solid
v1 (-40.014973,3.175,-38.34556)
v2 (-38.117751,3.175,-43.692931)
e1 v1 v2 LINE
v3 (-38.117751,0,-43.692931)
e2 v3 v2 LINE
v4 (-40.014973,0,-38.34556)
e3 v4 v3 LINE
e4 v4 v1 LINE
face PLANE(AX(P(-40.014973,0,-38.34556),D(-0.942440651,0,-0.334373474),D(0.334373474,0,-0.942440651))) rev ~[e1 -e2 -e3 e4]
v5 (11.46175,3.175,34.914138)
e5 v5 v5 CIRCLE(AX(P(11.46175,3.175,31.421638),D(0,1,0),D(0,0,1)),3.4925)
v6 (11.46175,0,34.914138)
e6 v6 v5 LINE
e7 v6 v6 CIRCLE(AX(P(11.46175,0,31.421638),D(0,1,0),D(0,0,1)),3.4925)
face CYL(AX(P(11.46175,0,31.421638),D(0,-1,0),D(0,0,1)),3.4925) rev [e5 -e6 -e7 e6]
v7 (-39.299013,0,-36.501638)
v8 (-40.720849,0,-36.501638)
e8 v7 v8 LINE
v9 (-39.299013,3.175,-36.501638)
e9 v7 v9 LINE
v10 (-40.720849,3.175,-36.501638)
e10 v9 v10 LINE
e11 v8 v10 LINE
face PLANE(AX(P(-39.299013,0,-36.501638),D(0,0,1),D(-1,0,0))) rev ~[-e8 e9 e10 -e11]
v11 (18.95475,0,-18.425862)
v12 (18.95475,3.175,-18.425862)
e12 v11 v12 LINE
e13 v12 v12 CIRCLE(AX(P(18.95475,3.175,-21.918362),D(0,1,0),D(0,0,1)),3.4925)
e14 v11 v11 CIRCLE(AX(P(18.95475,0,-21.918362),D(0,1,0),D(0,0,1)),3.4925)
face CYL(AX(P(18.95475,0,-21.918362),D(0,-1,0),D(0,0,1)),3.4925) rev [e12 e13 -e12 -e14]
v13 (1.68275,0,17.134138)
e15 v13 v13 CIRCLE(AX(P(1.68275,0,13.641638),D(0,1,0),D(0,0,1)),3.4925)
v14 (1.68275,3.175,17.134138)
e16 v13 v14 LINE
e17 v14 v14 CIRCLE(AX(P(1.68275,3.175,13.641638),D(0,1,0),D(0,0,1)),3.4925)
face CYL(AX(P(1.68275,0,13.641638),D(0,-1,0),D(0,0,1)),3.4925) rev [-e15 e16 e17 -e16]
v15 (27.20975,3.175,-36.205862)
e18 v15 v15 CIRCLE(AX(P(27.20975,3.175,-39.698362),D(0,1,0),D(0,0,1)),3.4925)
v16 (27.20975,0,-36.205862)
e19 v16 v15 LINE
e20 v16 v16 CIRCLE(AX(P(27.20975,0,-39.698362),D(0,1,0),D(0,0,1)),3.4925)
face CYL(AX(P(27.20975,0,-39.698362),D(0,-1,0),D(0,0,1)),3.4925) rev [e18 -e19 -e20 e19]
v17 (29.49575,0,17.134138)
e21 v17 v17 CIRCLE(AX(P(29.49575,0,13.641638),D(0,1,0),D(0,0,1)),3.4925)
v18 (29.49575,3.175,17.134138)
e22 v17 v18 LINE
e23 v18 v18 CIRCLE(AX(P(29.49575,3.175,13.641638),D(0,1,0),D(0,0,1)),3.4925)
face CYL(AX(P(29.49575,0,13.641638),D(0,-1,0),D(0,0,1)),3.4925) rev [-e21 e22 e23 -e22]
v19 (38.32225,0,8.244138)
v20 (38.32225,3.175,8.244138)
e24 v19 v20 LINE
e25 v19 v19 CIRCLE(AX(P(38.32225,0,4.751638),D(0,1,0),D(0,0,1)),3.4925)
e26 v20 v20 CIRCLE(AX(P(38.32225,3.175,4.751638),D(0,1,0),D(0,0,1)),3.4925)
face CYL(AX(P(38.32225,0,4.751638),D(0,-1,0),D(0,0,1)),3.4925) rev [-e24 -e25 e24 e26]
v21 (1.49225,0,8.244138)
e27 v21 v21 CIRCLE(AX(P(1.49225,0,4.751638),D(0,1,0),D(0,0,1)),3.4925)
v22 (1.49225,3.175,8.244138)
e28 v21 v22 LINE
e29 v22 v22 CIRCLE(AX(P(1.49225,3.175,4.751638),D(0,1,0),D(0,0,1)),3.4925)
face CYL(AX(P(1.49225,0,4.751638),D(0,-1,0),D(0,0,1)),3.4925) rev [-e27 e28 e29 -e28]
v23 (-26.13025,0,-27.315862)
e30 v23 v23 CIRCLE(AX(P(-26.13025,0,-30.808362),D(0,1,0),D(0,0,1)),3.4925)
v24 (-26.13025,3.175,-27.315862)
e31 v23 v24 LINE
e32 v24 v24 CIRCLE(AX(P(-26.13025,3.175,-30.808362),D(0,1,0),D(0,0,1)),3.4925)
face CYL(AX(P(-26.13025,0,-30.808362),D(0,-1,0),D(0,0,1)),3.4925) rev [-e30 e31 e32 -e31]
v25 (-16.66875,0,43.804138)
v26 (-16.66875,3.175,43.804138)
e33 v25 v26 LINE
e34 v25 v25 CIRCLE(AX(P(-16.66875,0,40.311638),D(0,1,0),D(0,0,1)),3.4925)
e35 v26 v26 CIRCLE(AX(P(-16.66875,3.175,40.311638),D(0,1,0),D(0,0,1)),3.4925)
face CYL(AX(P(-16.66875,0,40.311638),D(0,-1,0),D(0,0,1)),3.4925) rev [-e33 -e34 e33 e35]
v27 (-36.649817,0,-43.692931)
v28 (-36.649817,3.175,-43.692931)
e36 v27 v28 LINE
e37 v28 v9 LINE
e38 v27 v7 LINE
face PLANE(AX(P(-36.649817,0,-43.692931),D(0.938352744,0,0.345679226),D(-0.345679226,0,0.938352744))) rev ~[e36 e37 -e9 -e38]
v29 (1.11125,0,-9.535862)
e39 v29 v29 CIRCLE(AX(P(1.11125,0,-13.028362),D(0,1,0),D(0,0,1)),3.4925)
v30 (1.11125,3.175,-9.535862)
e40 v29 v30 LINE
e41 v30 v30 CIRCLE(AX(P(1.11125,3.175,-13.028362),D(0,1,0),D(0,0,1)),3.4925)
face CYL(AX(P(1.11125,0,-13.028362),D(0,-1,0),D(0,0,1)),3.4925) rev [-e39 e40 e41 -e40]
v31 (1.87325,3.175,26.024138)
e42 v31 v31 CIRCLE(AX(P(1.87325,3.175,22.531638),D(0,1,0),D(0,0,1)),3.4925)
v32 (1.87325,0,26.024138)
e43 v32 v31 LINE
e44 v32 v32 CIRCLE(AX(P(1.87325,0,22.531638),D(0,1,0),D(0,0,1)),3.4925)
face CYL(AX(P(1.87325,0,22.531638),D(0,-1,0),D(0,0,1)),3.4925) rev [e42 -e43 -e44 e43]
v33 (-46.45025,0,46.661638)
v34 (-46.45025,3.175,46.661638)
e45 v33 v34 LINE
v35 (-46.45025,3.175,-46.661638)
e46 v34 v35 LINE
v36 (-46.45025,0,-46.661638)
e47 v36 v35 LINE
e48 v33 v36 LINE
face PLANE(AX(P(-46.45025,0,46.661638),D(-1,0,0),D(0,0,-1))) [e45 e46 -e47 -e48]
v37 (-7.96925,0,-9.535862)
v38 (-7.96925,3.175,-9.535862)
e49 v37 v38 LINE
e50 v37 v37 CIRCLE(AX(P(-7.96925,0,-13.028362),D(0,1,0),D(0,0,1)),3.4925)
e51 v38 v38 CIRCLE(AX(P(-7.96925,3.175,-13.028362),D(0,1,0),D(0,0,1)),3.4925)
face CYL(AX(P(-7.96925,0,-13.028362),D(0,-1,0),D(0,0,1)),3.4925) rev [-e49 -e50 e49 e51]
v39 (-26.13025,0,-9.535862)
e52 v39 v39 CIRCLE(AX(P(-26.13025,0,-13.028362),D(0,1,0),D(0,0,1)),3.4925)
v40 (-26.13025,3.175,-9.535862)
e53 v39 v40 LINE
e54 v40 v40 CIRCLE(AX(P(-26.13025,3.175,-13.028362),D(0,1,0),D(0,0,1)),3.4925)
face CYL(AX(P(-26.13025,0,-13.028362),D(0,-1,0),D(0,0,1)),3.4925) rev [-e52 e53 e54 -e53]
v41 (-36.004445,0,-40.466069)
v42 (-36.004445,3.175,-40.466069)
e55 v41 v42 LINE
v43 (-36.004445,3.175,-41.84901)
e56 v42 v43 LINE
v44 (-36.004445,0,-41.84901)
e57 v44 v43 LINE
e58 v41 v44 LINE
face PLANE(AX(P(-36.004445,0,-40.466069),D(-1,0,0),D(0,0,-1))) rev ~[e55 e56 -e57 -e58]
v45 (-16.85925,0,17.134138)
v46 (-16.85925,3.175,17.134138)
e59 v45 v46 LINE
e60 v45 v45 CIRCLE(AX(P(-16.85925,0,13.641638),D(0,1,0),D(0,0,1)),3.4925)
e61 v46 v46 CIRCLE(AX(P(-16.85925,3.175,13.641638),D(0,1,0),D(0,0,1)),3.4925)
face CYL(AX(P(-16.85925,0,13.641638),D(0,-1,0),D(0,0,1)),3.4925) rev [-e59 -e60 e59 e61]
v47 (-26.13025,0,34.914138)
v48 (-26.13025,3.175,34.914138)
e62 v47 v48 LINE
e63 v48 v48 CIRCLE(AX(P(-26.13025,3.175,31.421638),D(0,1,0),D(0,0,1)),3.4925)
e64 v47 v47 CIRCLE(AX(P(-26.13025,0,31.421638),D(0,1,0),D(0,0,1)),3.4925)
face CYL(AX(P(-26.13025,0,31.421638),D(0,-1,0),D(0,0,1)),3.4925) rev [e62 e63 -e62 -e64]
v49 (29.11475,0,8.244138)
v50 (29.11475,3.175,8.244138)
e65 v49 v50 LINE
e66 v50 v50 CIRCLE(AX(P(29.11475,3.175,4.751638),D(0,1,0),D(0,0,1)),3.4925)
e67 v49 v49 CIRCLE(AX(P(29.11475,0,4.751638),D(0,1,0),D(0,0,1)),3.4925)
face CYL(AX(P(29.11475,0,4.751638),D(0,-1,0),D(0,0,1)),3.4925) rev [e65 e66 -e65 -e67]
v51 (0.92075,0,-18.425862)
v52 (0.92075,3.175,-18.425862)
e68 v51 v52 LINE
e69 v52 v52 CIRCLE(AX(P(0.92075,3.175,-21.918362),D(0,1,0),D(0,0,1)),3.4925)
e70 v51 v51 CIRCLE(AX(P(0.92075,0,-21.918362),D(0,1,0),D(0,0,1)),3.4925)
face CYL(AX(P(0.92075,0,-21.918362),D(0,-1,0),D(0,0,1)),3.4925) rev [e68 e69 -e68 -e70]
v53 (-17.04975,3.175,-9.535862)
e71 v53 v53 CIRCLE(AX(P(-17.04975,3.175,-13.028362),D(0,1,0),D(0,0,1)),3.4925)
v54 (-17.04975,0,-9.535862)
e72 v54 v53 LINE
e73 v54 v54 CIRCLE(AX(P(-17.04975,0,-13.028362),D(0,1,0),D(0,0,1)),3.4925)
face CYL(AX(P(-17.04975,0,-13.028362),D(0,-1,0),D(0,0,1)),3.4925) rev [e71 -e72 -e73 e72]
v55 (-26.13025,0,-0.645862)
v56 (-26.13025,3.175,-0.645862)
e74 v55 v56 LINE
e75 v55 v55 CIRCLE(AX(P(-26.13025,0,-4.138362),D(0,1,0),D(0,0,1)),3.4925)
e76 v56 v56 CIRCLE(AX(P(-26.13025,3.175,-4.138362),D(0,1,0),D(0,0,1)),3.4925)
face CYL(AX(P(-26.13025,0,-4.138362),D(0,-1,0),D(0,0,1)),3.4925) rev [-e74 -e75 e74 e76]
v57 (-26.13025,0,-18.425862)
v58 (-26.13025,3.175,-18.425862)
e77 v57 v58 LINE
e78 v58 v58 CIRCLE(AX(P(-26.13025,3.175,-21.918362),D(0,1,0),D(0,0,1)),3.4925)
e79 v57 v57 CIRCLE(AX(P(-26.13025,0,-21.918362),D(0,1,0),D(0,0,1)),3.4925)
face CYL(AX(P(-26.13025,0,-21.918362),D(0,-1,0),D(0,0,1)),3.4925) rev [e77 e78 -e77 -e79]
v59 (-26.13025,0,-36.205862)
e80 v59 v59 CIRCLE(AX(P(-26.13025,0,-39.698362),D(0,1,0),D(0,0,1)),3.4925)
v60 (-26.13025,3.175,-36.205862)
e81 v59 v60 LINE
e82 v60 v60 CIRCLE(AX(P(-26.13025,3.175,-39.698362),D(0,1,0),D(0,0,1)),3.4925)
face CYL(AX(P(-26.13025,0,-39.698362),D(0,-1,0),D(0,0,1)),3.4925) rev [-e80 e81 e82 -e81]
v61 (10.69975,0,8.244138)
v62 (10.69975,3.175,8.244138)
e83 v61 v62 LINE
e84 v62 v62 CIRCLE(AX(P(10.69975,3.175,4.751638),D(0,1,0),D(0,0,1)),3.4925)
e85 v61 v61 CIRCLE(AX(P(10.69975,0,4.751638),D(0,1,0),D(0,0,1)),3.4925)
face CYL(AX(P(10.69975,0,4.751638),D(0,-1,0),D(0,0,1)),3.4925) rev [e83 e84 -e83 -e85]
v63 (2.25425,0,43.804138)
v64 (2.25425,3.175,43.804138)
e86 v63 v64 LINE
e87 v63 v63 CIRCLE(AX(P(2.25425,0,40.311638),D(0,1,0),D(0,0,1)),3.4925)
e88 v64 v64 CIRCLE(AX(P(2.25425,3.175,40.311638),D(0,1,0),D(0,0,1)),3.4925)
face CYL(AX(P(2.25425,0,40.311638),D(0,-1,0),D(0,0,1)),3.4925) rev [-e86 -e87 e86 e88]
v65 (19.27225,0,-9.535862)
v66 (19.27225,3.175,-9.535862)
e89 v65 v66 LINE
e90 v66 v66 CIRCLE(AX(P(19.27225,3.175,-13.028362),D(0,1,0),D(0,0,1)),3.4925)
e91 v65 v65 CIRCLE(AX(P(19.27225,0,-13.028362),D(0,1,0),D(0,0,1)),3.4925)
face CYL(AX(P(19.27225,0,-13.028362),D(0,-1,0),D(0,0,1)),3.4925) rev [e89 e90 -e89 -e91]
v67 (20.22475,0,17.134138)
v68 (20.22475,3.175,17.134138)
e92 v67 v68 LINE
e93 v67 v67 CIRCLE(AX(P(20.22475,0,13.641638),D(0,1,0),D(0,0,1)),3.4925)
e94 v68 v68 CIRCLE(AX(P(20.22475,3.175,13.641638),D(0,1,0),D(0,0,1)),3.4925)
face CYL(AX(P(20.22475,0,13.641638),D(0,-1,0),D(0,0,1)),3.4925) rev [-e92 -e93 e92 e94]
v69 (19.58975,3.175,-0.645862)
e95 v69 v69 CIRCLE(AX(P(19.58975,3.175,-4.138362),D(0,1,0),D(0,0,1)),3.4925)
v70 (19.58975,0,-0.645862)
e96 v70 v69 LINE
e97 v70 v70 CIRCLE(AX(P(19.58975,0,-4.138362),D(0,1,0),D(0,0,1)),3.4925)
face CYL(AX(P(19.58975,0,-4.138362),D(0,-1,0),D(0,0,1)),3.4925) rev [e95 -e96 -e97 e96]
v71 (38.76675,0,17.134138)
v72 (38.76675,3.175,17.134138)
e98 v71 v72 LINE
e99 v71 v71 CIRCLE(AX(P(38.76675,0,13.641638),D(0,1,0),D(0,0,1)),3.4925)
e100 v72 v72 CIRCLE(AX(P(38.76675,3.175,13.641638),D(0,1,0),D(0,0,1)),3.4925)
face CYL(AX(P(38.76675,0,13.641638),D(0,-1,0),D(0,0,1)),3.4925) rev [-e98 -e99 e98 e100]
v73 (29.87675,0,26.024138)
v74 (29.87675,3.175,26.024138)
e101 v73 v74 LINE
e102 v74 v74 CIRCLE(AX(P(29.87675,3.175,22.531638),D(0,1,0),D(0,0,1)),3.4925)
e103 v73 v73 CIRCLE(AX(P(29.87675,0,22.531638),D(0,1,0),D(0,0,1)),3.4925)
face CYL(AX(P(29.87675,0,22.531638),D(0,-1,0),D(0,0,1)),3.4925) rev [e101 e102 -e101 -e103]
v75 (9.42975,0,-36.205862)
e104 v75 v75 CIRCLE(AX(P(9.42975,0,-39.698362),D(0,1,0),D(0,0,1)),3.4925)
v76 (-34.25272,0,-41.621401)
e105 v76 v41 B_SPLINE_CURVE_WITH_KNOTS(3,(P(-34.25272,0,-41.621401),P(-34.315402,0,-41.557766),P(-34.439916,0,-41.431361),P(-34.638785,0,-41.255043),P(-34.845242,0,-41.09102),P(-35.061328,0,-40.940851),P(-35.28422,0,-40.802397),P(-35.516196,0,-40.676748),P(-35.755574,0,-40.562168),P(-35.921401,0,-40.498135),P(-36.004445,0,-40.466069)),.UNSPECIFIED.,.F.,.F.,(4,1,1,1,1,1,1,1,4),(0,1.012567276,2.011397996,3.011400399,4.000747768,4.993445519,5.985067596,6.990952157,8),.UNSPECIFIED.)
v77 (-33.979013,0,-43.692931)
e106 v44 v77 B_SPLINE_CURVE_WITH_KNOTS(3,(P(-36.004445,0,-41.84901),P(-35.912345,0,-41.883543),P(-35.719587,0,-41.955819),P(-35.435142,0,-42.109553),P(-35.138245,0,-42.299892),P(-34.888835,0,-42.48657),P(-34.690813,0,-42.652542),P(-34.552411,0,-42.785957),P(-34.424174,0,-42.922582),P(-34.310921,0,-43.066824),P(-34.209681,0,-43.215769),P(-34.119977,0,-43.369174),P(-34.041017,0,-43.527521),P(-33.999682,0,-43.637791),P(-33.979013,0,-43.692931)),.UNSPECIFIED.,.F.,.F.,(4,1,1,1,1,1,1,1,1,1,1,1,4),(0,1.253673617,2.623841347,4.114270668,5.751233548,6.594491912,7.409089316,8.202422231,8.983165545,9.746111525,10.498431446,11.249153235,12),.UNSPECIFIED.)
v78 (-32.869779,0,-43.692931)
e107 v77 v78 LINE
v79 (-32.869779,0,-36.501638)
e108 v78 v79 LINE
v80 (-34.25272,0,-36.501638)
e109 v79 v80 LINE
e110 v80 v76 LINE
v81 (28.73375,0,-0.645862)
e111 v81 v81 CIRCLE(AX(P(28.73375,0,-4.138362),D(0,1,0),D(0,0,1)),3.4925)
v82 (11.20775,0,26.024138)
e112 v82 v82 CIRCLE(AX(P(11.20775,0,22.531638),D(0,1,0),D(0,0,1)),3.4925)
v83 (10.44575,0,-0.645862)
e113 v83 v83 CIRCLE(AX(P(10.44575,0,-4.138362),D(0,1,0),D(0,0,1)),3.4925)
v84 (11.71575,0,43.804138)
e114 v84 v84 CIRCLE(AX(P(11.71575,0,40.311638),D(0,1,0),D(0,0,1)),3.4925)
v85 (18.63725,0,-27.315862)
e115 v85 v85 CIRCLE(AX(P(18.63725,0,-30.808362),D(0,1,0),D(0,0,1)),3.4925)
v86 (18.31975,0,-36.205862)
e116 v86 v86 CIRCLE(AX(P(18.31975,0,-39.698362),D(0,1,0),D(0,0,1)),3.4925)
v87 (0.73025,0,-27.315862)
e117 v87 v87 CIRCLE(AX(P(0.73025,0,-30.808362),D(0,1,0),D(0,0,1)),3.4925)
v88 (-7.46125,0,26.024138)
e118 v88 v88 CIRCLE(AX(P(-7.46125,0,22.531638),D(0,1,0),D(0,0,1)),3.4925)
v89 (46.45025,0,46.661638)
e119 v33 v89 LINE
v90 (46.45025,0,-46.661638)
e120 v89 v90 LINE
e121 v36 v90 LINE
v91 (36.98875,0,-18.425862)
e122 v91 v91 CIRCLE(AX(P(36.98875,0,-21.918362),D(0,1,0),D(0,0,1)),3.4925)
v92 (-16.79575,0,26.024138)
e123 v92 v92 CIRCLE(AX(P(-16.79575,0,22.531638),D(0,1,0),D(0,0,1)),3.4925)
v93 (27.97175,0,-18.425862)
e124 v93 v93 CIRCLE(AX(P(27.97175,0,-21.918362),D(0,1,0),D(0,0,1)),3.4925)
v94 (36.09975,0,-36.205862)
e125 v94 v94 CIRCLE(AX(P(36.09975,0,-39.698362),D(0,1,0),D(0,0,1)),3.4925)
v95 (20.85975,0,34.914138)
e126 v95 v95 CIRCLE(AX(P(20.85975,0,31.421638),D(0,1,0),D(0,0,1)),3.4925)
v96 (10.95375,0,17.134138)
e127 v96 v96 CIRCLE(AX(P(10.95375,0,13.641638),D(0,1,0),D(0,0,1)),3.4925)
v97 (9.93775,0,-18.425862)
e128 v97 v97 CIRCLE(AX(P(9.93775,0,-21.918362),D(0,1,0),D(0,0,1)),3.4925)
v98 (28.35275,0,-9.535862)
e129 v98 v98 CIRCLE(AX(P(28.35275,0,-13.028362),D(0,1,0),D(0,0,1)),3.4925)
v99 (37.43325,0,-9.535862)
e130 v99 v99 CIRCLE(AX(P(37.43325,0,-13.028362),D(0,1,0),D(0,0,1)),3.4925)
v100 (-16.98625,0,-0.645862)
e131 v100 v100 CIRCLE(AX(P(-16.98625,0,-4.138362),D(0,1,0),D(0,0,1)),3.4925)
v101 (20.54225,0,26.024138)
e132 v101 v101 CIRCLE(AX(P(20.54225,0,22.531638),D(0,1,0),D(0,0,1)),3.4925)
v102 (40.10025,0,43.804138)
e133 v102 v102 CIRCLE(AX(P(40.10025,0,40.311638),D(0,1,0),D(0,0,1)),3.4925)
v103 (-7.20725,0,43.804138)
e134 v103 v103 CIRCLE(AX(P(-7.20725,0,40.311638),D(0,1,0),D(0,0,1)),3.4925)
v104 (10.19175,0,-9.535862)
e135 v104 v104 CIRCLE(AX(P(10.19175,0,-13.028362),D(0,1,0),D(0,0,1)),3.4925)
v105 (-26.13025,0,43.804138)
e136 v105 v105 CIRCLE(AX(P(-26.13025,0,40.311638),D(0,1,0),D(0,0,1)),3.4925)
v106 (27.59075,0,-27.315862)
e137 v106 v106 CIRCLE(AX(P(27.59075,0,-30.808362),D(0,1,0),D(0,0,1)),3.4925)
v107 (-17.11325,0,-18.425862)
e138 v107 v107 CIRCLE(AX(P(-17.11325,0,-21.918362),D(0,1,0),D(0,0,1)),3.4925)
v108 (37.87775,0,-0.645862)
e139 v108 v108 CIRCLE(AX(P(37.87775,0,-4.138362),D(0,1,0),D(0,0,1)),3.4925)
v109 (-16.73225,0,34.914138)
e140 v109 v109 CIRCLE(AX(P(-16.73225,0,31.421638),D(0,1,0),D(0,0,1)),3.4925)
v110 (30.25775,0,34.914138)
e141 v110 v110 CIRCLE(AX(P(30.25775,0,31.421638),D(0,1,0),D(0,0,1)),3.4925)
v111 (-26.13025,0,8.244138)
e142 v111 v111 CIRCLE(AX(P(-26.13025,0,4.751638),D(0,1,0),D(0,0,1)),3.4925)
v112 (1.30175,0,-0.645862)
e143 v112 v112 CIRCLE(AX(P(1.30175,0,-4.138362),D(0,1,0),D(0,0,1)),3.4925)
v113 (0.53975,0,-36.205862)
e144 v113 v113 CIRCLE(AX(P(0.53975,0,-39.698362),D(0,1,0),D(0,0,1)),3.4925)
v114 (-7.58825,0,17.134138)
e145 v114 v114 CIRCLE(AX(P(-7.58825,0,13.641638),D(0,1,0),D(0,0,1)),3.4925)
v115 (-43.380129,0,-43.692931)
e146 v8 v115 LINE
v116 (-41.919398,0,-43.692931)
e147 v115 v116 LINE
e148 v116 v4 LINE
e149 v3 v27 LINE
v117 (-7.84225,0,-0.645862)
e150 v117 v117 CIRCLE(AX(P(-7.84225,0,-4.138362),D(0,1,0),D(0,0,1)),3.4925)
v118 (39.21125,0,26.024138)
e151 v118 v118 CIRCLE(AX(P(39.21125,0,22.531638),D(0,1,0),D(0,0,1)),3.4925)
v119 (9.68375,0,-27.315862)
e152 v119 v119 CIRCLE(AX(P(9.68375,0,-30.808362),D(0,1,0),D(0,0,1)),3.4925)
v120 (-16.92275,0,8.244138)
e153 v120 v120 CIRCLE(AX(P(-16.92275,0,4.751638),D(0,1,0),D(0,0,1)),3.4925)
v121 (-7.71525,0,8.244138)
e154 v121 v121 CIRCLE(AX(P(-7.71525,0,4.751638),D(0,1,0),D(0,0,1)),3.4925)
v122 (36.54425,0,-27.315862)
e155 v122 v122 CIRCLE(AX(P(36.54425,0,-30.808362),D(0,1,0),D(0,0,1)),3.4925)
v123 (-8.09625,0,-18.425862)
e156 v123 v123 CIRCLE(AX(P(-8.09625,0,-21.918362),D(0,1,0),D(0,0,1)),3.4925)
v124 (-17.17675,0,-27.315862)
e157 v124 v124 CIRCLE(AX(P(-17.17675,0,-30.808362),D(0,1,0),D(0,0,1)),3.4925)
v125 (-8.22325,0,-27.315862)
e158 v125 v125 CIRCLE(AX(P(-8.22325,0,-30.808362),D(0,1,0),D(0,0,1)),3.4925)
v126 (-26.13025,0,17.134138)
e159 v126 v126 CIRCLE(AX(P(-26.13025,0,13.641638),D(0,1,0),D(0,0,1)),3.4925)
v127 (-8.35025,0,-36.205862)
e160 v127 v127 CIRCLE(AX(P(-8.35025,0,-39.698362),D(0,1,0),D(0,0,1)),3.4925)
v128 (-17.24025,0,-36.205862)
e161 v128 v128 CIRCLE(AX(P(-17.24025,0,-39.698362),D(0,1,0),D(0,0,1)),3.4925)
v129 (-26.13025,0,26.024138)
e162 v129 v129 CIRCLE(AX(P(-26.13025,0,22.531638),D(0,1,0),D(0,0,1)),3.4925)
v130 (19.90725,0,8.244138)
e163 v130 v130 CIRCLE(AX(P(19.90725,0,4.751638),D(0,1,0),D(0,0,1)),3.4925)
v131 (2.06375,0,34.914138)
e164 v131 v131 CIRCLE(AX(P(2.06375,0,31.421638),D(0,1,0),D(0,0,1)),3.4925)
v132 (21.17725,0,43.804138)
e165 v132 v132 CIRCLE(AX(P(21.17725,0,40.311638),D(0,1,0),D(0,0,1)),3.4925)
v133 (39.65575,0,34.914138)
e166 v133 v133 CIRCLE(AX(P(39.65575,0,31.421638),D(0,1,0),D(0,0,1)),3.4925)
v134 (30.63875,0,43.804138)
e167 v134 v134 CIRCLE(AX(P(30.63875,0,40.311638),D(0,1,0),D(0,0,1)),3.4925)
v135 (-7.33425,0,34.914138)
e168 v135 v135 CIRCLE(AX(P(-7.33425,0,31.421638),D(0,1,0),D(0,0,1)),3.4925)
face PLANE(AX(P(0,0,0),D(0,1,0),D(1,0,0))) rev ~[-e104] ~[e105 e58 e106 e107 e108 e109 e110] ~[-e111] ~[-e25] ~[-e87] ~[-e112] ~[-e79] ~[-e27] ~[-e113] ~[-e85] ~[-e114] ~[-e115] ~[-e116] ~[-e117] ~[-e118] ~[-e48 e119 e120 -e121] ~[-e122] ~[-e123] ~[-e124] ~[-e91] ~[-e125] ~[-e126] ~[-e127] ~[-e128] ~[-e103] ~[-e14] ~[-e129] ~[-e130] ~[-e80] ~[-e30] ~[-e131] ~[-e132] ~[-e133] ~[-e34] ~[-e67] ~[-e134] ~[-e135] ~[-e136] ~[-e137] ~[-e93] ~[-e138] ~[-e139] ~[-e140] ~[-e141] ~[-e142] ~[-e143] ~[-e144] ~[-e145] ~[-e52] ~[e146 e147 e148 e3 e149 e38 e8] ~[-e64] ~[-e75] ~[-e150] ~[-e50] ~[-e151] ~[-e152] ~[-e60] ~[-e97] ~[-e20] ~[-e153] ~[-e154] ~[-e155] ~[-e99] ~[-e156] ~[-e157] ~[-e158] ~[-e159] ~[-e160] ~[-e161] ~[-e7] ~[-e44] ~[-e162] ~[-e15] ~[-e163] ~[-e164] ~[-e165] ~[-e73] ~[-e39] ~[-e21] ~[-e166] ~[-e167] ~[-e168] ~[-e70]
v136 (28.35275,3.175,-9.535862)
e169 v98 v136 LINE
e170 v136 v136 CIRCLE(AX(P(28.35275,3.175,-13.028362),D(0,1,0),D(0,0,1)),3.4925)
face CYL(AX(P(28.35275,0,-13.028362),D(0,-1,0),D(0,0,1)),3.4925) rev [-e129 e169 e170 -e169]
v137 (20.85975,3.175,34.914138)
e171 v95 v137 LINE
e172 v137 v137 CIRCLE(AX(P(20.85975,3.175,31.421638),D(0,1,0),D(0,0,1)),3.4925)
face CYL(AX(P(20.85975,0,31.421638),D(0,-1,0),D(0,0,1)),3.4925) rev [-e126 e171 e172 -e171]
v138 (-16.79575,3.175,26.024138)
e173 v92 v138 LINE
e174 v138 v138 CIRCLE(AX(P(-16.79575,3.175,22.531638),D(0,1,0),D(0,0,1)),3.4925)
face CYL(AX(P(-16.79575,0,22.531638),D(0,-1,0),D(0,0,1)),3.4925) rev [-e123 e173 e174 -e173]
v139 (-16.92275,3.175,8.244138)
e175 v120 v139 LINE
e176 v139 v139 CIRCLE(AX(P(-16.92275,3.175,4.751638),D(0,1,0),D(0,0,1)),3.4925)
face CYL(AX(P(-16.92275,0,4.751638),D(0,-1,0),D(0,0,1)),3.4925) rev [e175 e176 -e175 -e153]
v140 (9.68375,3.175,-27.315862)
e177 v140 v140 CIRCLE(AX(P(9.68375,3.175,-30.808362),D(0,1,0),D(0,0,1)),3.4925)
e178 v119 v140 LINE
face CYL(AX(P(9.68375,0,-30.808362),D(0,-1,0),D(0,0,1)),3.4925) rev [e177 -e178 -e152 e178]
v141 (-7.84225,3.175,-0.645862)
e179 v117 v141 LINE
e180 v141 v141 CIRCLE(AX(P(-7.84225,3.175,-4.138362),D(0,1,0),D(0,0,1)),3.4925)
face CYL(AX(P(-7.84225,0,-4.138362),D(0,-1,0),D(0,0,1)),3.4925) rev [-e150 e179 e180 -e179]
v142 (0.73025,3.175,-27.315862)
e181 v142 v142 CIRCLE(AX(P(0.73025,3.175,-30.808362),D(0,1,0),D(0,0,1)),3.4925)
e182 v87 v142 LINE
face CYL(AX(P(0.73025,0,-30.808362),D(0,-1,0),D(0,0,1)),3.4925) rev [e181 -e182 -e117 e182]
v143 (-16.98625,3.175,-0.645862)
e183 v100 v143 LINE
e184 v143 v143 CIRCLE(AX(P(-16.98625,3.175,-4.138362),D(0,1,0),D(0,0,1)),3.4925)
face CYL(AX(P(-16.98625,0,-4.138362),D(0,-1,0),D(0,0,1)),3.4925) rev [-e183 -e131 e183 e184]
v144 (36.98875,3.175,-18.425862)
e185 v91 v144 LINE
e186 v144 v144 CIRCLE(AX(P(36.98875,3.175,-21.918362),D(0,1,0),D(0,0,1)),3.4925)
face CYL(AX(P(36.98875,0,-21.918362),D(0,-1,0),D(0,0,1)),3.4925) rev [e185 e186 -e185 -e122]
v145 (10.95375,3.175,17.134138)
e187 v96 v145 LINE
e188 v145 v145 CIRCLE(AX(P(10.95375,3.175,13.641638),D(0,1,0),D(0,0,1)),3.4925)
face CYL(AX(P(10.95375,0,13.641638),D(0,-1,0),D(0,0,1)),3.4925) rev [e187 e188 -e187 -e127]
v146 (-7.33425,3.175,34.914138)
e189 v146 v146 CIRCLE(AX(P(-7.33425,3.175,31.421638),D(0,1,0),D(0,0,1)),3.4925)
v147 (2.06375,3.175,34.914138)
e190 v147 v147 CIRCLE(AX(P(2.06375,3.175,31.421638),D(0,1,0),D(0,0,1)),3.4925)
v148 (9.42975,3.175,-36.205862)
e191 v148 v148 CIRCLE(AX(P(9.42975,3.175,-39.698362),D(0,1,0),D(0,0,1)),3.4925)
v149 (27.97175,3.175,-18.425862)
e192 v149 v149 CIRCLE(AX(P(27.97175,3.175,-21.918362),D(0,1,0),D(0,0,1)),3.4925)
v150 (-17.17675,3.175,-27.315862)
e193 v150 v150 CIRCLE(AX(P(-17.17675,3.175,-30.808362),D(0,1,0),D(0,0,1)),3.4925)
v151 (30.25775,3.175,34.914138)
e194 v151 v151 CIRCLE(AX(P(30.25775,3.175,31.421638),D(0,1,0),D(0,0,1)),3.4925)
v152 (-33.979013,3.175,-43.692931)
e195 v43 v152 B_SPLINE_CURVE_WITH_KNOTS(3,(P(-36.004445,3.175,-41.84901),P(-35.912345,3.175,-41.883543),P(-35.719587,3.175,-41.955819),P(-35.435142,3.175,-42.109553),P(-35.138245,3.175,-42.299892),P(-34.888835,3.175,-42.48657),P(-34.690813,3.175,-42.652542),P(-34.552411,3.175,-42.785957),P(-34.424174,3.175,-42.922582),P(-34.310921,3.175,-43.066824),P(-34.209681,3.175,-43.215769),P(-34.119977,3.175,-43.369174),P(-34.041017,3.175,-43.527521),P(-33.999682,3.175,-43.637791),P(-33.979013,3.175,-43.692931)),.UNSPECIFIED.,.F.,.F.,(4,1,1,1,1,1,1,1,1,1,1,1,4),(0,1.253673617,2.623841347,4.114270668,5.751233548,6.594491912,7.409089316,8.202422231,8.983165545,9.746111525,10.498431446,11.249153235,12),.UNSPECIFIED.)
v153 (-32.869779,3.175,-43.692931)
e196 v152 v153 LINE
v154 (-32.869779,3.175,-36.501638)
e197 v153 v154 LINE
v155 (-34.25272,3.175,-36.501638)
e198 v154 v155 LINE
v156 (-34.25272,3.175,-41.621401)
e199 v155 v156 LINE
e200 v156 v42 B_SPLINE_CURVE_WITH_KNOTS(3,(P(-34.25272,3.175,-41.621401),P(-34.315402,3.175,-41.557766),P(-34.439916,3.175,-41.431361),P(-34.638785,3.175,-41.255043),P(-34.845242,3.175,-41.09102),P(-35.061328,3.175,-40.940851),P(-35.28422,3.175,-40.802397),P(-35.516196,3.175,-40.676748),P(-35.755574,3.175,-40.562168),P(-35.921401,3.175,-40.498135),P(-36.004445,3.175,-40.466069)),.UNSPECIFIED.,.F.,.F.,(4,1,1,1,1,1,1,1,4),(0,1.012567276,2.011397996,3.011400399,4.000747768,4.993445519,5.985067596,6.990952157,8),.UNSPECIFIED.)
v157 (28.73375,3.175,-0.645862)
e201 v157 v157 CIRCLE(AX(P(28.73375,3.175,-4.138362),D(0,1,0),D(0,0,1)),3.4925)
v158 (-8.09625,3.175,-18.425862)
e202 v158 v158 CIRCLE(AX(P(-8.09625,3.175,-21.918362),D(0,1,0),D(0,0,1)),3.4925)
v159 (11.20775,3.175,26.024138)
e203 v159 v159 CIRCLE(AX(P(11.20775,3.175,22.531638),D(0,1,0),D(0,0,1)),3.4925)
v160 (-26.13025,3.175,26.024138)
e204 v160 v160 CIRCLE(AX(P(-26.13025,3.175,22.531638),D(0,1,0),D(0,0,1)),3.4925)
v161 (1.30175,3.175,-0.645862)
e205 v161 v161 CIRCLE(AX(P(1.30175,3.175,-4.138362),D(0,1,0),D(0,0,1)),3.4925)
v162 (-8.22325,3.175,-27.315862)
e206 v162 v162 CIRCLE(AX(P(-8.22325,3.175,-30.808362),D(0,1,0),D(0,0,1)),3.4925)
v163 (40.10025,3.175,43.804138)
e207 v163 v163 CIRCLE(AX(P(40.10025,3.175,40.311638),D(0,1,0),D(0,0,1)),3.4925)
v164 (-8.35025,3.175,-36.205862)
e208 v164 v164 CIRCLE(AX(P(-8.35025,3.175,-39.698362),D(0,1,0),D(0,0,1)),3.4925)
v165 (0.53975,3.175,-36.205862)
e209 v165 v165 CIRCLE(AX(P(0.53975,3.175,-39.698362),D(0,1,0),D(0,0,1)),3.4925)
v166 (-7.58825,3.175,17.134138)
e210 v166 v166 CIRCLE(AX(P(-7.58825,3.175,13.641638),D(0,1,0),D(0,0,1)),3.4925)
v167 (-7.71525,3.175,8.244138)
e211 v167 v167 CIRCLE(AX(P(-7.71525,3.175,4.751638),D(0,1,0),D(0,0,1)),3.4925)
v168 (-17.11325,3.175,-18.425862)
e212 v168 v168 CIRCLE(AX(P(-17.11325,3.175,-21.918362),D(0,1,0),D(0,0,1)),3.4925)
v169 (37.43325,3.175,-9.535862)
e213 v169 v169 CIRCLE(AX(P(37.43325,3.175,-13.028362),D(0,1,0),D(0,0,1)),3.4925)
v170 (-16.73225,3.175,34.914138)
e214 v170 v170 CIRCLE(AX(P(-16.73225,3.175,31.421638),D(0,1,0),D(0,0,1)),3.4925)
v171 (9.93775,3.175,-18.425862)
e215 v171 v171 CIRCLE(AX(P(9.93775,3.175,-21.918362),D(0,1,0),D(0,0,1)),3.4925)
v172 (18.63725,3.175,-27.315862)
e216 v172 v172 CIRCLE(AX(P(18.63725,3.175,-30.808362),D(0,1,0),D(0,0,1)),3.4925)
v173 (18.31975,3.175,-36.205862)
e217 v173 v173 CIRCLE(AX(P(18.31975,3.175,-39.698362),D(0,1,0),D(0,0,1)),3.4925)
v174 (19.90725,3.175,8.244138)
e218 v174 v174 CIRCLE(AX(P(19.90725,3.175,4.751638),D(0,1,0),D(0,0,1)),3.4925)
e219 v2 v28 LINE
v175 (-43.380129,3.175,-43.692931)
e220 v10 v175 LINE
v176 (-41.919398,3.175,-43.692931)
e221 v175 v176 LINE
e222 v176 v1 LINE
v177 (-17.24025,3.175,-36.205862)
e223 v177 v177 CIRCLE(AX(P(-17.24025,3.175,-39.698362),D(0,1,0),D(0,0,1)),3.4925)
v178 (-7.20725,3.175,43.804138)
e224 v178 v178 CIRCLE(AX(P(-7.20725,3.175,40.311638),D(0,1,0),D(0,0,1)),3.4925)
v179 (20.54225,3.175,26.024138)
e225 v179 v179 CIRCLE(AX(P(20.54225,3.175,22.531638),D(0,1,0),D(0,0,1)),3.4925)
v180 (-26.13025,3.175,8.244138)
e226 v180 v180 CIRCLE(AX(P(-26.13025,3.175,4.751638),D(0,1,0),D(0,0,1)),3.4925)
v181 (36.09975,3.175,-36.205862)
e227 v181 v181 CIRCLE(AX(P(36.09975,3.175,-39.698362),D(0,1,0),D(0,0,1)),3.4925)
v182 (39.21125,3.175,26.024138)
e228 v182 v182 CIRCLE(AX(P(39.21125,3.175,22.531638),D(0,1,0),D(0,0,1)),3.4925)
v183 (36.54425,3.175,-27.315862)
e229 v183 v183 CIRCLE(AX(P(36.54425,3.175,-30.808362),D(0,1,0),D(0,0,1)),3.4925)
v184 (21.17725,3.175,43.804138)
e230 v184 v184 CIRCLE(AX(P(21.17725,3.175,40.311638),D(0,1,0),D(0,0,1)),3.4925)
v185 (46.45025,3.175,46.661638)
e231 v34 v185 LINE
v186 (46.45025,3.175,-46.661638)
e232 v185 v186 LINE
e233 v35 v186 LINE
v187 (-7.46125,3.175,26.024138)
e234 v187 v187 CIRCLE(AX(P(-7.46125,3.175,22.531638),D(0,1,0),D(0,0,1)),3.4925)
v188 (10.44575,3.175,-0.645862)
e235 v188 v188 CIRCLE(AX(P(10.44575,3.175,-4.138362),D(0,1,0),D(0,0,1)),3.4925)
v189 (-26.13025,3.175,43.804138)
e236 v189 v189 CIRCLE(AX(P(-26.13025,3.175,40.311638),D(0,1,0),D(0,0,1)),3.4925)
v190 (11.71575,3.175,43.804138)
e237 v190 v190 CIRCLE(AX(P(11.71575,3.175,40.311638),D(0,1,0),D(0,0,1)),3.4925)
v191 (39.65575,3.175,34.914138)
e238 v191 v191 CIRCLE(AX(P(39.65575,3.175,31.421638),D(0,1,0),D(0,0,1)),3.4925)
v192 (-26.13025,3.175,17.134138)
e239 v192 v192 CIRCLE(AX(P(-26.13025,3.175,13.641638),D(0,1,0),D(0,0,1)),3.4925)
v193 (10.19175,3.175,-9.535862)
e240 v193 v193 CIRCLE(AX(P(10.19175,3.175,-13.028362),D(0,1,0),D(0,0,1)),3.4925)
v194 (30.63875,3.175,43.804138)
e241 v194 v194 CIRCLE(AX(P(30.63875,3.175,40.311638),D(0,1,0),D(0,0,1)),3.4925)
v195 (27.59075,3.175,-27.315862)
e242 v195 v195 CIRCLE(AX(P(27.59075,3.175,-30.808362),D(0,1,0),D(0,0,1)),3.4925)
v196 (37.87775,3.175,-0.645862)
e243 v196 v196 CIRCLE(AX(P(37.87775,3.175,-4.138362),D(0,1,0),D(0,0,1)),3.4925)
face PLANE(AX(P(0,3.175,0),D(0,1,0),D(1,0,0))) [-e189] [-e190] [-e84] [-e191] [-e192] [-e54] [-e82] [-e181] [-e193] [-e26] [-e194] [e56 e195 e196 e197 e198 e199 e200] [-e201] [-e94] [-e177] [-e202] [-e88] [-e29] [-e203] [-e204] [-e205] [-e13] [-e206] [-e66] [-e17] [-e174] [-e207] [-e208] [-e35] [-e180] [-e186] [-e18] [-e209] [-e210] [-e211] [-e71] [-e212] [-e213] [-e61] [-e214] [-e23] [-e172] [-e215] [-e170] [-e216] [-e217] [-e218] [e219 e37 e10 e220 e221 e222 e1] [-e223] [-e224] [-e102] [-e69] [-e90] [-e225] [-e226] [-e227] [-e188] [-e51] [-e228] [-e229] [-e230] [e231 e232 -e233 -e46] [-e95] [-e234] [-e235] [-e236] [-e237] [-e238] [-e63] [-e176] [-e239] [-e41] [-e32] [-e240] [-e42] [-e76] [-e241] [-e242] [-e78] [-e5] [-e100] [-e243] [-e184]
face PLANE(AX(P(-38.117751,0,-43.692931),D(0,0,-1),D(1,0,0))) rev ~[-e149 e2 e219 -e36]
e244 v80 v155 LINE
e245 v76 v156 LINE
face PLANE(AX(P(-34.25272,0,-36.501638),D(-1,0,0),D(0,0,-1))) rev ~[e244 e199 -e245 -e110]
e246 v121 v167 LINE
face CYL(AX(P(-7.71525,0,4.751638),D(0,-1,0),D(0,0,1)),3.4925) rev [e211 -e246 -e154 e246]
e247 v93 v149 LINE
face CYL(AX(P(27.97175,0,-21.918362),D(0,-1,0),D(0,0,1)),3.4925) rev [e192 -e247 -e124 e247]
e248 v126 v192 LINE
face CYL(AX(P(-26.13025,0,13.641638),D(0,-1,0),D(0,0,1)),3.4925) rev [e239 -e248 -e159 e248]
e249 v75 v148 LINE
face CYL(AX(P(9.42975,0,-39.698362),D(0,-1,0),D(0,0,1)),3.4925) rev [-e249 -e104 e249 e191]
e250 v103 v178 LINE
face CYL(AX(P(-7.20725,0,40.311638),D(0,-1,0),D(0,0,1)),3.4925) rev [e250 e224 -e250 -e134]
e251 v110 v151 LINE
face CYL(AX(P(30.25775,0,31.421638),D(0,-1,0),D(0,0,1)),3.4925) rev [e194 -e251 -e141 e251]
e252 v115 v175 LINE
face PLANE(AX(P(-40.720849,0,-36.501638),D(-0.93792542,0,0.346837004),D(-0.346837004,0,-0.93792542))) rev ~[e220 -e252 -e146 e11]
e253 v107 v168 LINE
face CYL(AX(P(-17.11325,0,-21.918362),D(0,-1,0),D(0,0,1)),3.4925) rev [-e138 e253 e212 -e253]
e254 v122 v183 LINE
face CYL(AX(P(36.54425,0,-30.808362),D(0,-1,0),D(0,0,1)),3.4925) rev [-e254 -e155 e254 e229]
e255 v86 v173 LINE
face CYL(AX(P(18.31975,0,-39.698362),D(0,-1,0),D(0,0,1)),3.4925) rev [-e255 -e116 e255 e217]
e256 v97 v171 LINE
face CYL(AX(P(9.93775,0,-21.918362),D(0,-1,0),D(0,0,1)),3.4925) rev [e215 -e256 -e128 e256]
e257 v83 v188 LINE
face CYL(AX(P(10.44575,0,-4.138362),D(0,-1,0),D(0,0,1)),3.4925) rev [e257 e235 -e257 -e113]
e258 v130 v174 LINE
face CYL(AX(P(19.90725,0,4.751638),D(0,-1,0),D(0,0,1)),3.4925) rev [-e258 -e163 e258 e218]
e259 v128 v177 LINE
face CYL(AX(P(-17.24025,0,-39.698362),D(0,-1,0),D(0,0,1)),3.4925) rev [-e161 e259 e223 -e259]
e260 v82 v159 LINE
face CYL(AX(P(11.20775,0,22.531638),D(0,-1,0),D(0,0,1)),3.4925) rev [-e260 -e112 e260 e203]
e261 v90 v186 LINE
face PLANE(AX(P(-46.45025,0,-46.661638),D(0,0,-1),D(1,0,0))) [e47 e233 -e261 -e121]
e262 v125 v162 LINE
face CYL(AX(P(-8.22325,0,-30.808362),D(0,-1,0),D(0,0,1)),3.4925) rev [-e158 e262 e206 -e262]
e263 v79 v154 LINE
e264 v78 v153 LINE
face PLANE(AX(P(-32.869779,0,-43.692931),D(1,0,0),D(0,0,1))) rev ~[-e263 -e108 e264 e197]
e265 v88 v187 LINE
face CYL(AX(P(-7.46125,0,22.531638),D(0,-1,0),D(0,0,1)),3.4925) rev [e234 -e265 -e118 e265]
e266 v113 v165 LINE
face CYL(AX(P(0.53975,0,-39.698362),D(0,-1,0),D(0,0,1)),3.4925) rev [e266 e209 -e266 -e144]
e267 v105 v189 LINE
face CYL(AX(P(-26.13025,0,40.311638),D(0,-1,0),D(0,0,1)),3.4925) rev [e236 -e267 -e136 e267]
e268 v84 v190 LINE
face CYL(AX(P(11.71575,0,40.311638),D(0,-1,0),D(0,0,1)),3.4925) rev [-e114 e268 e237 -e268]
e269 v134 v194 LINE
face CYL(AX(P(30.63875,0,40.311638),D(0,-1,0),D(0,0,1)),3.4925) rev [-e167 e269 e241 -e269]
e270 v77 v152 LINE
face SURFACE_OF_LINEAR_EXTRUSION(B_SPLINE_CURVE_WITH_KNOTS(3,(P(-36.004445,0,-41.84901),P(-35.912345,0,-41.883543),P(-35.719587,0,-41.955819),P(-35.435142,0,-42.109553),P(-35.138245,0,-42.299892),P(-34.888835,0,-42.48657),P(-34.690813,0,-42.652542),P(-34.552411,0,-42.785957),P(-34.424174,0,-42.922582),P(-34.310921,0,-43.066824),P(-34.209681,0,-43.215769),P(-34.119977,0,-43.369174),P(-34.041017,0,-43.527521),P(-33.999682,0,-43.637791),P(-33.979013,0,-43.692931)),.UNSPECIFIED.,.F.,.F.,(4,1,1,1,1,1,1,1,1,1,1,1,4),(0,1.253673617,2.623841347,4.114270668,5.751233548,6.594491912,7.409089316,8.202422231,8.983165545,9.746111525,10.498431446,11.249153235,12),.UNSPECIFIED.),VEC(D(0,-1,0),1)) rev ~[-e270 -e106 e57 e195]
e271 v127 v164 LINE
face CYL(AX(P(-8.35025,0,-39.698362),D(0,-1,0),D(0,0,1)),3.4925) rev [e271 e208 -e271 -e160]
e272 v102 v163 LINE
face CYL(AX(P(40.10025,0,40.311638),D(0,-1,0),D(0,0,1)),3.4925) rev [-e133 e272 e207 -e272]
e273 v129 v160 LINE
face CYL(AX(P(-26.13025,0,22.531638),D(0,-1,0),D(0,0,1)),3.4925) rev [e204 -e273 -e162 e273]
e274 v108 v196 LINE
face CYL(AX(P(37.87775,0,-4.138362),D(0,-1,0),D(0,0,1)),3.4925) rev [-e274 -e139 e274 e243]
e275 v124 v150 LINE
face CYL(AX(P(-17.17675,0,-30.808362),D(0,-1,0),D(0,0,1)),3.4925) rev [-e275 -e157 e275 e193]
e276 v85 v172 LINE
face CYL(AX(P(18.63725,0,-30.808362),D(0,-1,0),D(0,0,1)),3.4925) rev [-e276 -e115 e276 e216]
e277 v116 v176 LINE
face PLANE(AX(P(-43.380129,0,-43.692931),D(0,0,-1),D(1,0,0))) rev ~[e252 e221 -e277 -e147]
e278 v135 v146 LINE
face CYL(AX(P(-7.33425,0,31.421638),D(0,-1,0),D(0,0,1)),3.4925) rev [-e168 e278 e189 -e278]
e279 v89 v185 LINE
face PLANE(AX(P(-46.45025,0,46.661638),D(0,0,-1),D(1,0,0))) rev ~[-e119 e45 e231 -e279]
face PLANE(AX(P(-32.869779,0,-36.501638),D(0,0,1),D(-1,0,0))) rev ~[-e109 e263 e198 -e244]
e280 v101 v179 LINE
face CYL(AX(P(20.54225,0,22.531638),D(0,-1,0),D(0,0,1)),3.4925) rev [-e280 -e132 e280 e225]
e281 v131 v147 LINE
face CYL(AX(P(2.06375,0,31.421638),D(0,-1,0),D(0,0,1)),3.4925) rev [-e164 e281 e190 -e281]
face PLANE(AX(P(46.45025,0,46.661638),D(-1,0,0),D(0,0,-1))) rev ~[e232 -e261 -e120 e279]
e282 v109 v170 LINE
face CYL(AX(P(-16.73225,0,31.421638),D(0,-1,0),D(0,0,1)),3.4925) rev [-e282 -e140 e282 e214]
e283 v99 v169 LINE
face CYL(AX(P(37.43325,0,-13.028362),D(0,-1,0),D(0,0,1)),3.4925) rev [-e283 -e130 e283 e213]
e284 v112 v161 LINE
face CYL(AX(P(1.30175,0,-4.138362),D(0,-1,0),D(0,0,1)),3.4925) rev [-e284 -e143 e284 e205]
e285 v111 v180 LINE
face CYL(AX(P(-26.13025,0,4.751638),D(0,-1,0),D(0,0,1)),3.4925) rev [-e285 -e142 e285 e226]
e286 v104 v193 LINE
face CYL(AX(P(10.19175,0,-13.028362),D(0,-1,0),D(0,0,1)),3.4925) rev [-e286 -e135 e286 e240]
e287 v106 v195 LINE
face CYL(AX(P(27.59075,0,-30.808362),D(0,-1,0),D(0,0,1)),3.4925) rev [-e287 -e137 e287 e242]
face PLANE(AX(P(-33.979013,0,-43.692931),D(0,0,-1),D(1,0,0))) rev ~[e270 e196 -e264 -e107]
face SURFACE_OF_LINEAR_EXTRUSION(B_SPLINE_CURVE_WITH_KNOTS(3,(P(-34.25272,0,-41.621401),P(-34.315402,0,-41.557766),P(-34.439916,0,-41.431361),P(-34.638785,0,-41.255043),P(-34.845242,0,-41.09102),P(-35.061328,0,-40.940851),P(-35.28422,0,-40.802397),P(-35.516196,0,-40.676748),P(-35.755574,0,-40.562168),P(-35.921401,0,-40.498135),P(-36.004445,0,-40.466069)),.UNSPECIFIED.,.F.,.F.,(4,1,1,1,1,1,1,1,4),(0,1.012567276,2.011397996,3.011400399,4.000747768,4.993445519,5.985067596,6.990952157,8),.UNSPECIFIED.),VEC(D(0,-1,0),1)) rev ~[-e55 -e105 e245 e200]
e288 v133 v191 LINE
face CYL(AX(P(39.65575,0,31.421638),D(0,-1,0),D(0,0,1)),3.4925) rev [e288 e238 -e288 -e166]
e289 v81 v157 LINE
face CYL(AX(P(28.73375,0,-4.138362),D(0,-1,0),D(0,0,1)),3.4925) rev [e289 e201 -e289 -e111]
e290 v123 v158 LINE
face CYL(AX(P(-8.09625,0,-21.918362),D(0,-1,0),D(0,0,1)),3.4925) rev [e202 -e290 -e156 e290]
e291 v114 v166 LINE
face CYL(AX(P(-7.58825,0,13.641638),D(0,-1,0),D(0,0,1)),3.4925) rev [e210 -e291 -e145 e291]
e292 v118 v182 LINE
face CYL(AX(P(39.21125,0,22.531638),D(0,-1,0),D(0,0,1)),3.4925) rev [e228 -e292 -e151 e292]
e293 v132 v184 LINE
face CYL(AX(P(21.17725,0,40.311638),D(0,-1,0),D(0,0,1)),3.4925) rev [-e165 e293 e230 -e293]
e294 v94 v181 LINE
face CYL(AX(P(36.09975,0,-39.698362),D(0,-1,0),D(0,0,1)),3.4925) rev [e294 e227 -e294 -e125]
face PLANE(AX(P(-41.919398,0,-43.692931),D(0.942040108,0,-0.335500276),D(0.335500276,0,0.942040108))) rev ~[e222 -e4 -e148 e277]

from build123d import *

# Parameters (mm, degrees)
SKETCH1_W           = 92.9005
SKETCH1_H           = 93.323276942
SKETCH1_R           = 3.4925
BOSS_EXTRUDE1_DEPTH = 3.175


with BuildPart() as part:
    # Sketch1 → Boss-Extrude1 (new body)
    with BuildSketch(Plane(origin=(0, 0, 0), x_dir=(1, 0, 0), z_dir=(0, 1, 0))):
        Rectangle(SKETCH1_W, SKETCH1_H)
        with Locations(Location((-26.13025, 39.698361529, 0), (0, 0, 270))):
            Circle(SKETCH1_R, mode=Mode.SUBTRACT)
        with Locations(Location((-26.13025, 30.808361529, 0), (0, 0, 270))):
            Circle(SKETCH1_R, mode=Mode.SUBTRACT)
        with Locations(Location((-26.13025, 21.918361529, 0), (0, 0, 270))):
            Circle(SKETCH1_R, mode=Mode.SUBTRACT)
        with Locations(Location((-26.13025, 13.028361529, 0), (0, 0, 270))):
            Circle(SKETCH1_R, mode=Mode.SUBTRACT)
        with Locations(Location((-26.13025, 4.138361529, 0), (0, 0, 270))):
            Circle(SKETCH1_R, mode=Mode.SUBTRACT)
        with Locations(Location((-26.13025, -4.751638471, 0), (0, 0, 270))):
            Circle(SKETCH1_R, mode=Mode.SUBTRACT)
        with Locations(Location((-26.13025, -13.641638471, 0), (0, 0, 270))):
            Circle(SKETCH1_R, mode=Mode.SUBTRACT)
        with Locations(Location((-26.13025, -22.531638471, 0), (0, 0, 270))):
            Circle(SKETCH1_R, mode=Mode.SUBTRACT)
        with Locations(Location((-26.13025, -31.421638471, 0), (0, 0, 270))):
            Circle(SKETCH1_R, mode=Mode.SUBTRACT)
        with Locations(Location((-26.13025, -40.311638471, 0), (0, 0, 270))):
            Circle(SKETCH1_R, mode=Mode.SUBTRACT)
        with Locations(Location((-16.98625, 4.138361529, 0), (0, 0, 270))):
            Circle(SKETCH1_R, mode=Mode.SUBTRACT)
        with Locations(Location((-7.84225, 4.138361529, 0), (0, 0, 270))):
            Circle(SKETCH1_R, mode=Mode.SUBTRACT)
        with Locations(Location((1.30175, 4.138361529, 0), (0, 0, 270))):
            Circle(SKETCH1_R, mode=Mode.SUBTRACT)
        with Locations(Location((10.44575, 4.138361529, 0), (0, 0, 270))):
            Circle(SKETCH1_R, mode=Mode.SUBTRACT)
        with Locations(Location((19.58975, 4.138361529, 0), (0, 0, 270))):
            Circle(SKETCH1_R, mode=Mode.SUBTRACT)
        with Locations(Location((28.73375, 4.138361529, 0), (0, 0, 270))):
            Circle(SKETCH1_R, mode=Mode.SUBTRACT)
        with Locations(Location((37.87775, 4.138361529, 0), (0, 0, 270))):
            Circle(SKETCH1_R, mode=Mode.SUBTRACT)
        with Locations(Location((-17.04975, 13.028361529, 0), (0, 0, 270))):
            Circle(SKETCH1_R, mode=Mode.SUBTRACT)
        with Locations(Location((-7.96925, 13.028361529, 0), (0, 0, 270))):
            Circle(SKETCH1_R, mode=Mode.SUBTRACT)
        with Locations(Location((1.11125, 13.028361529, 0), (0, 0, 270))):
            Circle(SKETCH1_R, mode=Mode.SUBTRACT)
        with Locations(Location((10.19175, 13.028361529, 0), (0, 0, 270))):
            Circle(SKETCH1_R, mode=Mode.SUBTRACT)
        with Locations(Location((19.27225, 13.028361529, 0), (0, 0, 270))):
            Circle(SKETCH1_R, mode=Mode.SUBTRACT)
        with Locations(Location((28.35275, 13.028361529, 0), (0, 0, 270))):
            Circle(SKETCH1_R, mode=Mode.SUBTRACT)
        with Locations(Location((37.43325, 13.028361529, 0), (0, 0, 270))):
            Circle(SKETCH1_R, mode=Mode.SUBTRACT)
        with Locations(Location((-17.11325, 21.918361529, 0), (0, 0, 270))):
            Circle(SKETCH1_R, mode=Mode.SUBTRACT)
        with Locations(Location((-8.09625, 21.918361529, 0), (0, 0, 270))):
            Circle(SKETCH1_R, mode=Mode.SUBTRACT)
        with Locations(Location((0.92075, 21.918361529, 0), (0, 0, 270))):
            Circle(SKETCH1_R, mode=Mode.SUBTRACT)
        with Locations(Location((9.93775, 21.918361529, 0), (0, 0, 270))):
            Circle(SKETCH1_R, mode=Mode.SUBTRACT)
        with Locations(Location((18.95475, 21.918361529, 0), (0, 0, 270))):
            Circle(SKETCH1_R, mode=Mode.SUBTRACT)
        with Locations(Location((27.97175, 21.918361529, 0), (0, 0, 270))):
            Circle(SKETCH1_R, mode=Mode.SUBTRACT)
        with Locations(Location((36.98875, 21.918361529, 0), (0, 0, 270))):
            Circle(SKETCH1_R, mode=Mode.SUBTRACT)
        with Locations(Location((-17.17675, 30.808361529, 0), (0, 0, 270))):
            Circle(SKETCH1_R, mode=Mode.SUBTRACT)
        with Locations(Location((-8.22325, 30.808361529, 0), (0, 0, 270))):
            Circle(SKETCH1_R, mode=Mode.SUBTRACT)
        with Locations(Location((0.73025, 30.808361529, 0), (0, 0, 270))):
            Circle(SKETCH1_R, mode=Mode.SUBTRACT)
        with Locations(Location((9.68375, 30.808361529, 0), (0, 0, 270))):
            Circle(SKETCH1_R, mode=Mode.SUBTRACT)
        with Locations(Location((18.63725, 30.808361529, 0), (0, 0, 270))):
            Circle(SKETCH1_R, mode=Mode.SUBTRACT)
        with Locations(Location((27.59075, 30.808361529, 0), (0, 0, 270))):
            Circle(SKETCH1_R, mode=Mode.SUBTRACT)
        with Locations(Location((36.54425, 30.808361529, 0), (0, 0, 270))):
            Circle(SKETCH1_R, mode=Mode.SUBTRACT)
        with Locations(Location((-17.24025, 39.698361529, 0), (0, 0, 270))):
            Circle(SKETCH1_R, mode=Mode.SUBTRACT)
        with Locations(Location((-8.35025, 39.698361529, 0), (0, 0, 270))):
            Circle(SKETCH1_R, mode=Mode.SUBTRACT)
        with Locations(Location((0.53975, 39.698361529, 0), (0, 0, 270))):
            Circle(SKETCH1_R, mode=Mode.SUBTRACT)
        with Locations(Location((9.42975, 39.698361529, 0), (0, 0, 270))):
            Circle(SKETCH1_R, mode=Mode.SUBTRACT)
        with Locations(Location((18.31975, 39.698361529, 0), (0, 0, 270))):
            Circle(SKETCH1_R, mode=Mode.SUBTRACT)
        with Locations(Location((27.20975, 39.698361529, 0), (0, 0, 270))):
            Circle(SKETCH1_R, mode=Mode.SUBTRACT)
        with Locations(Location((36.09975, 39.698361529, 0), (0, 0, 270))):
            Circle(SKETCH1_R, mode=Mode.SUBTRACT)
        with Locations(Location((-16.92275, -4.751638471, 0), (0, 0, 270))):
            Circle(SKETCH1_R, mode=Mode.SUBTRACT)
        with Locations(Location((-7.71525, -4.751638471, 0), (0, 0, 270))):
            Circle(SKETCH1_R, mode=Mode.SUBTRACT)
        with Locations(Location((1.49225, -4.751638471, 0), (0, 0, 270))):
            Circle(SKETCH1_R, mode=Mode.SUBTRACT)
        with Locations(Location((10.69975, -4.751638471, 0), (0, 0, 270))):
            Circle(SKETCH1_R, mode=Mode.SUBTRACT)
        with Locations(Location((19.90725, -4.751638471, 0), (0, 0, 270))):
            Circle(SKETCH1_R, mode=Mode.SUBTRACT)
        with Locations(Location((29.11475, -4.751638471, 0), (0, 0, 270))):
            Circle(SKETCH1_R, mode=Mode.SUBTRACT)
        with Locations(Location((38.32225, -4.751638471, 0), (0, 0, 270))):
            Circle(SKETCH1_R, mode=Mode.SUBTRACT)
        with Locations(Location((-16.85925, -13.641638471, 0), (0, 0, 270))):
            Circle(SKETCH1_R, mode=Mode.SUBTRACT)
        with Locations(Location((-7.58825, -13.641638471, 0), (0, 0, 270))):
            Circle(SKETCH1_R, mode=Mode.SUBTRACT)
        with Locations(Location((1.68275, -13.641638471, 0), (0, 0, 270))):
            Circle(SKETCH1_R, mode=Mode.SUBTRACT)
        with Locations(Location((10.95375, -13.641638471, 0), (0, 0, 270))):
            Circle(SKETCH1_R, mode=Mode.SUBTRACT)
        with Locations(Location((20.22475, -13.641638471, 0), (0, 0, 270))):
            Circle(SKETCH1_R, mode=Mode.SUBTRACT)
        with Locations(Location((29.49575, -13.641638471, 0), (0, 0, 270))):
            Circle(SKETCH1_R, mode=Mode.SUBTRACT)
        with Locations(Location((38.76675, -13.641638471, 0), (0, 0, 270))):
            Circle(SKETCH1_R, mode=Mode.SUBTRACT)
        with Locations(Location((-16.79575, -22.531638471, 0), (0, 0, 270))):
            Circle(SKETCH1_R, mode=Mode.SUBTRACT)
        with Locations(Location((-7.46125, -22.531638471, 0), (0, 0, 270))):
            Circle(SKETCH1_R, mode=Mode.SUBTRACT)
        with Locations(Location((1.87325, -22.531638471, 0), (0, 0, 270))):
            Circle(SKETCH1_R, mode=Mode.SUBTRACT)
        with Locations(Location((11.20775, -22.531638471, 0), (0, 0, 270))):
            Circle(SKETCH1_R, mode=Mode.SUBTRACT)
        with Locations(Location((20.54225, -22.531638471, 0), (0, 0, 270))):
            Circle(SKETCH1_R, mode=Mode.SUBTRACT)
        with Locations(Location((29.87675, -22.531638471, 0), (0, 0, 270))):
            Circle(SKETCH1_R, mode=Mode.SUBTRACT)
        with Locations(Location((39.21125, -22.531638471, 0), (0, 0, 270))):
            Circle(SKETCH1_R, mode=Mode.SUBTRACT)
        with Locations(Location((-16.73225, -31.421638471, 0), (0, 0, 270))):
            Circle(SKETCH1_R, mode=Mode.SUBTRACT)
        with Locations(Location((-7.33425, -31.421638471, 0), (0, 0, 270))):
            Circle(SKETCH1_R, mode=Mode.SUBTRACT)
        with Locations(Location((2.06375, -31.421638471, 0), (0, 0, 270))):
            Circle(SKETCH1_R, mode=Mode.SUBTRACT)
        with Locations(Location((11.46175, -31.421638471, 0), (0, 0, 270))):
            Circle(SKETCH1_R, mode=Mode.SUBTRACT)
        with Locations(Location((20.85975, -31.421638471, 0), (0, 0, 270))):
            Circle(SKETCH1_R, mode=Mode.SUBTRACT)
        with Locations(Location((30.25775, -31.421638471, 0), (0, 0, 270))):
            Circle(SKETCH1_R, mode=Mode.SUBTRACT)
        with Locations(Location((39.65575, -31.421638471, 0), (0, 0, 270))):
            Circle(SKETCH1_R, mode=Mode.SUBTRACT)
        with Locations(Location((-16.66875, -40.311638471, 0), (0, 0, 270))):
            Circle(SKETCH1_R, mode=Mode.SUBTRACT)
        with Locations(Location((-7.20725, -40.311638471, 0), (0, 0, 270))):
            Circle(SKETCH1_R, mode=Mode.SUBTRACT)
        with Locations(Location((2.25425, -40.311638471, 0), (0, 0, 270))):
            Circle(SKETCH1_R, mode=Mode.SUBTRACT)
        with Locations(Location((11.71575, -40.311638471, 0), (0, 0, 270))):
            Circle(SKETCH1_R, mode=Mode.SUBTRACT)
        with Locations(Location((21.17725, -40.311638471, 0), (0, 0, 270))):
            Circle(SKETCH1_R, mode=Mode.SUBTRACT)
        with Locations(Location((30.63875, -40.311638471, 0), (0, 0, 270))):
            Circle(SKETCH1_R, mode=Mode.SUBTRACT)
        with Locations(Location((40.10025, -40.311638471, 0), (0, 0, 270))):
            Circle(SKETCH1_R, mode=Mode.SUBTRACT)
        with BuildLine():
            Line((-32.869778996, 36.501638471), (-34.252719827, 36.501638471))
            Line((-34.252719827, 36.501638471), (-34.252719827, 41.62140067))
            add(Edge.make_bspline(
                [(-34.252719827, 41.62140067), (-34.315402134, 41.557766435), (-34.439916397, 41.43136123), (-34.638785289, 41.255042826), (-34.845241518, 41.091020222), (-35.061328159, 40.940851333), (-35.284220406, 40.802396517), (-35.516196093, 40.676748237), (-35.755573779, 40.562167971), (-35.921401067, 40.4981354), (-36.004444878, 40.466068851)],
                knots=[0, 0, 0, 0, 1.012567276, 2.011397996, 3.011400399, 4.000747768, 4.993445519, 5.985067596, 6.990952157, 8, 8, 8, 8], degree=3))
            Line((-36.004444878, 40.466068851), (-36.004444878, 41.849009681))
            add(Edge.make_bspline(
                [(-36.004444878, 41.849009681), (-35.912345111, 41.883543142), (-35.719587462, 41.955818989), (-35.435141994, 42.109553378), (-35.138245168, 42.299892063), (-34.888834885, 42.486570234), (-34.690813374, 42.652542046), (-34.552411392, 42.785957341), (-34.424173998, 42.922581523), (-34.310921381, 43.066824321), (-34.209680605, 43.215769462), (-34.119976864, 43.36917362), (-34.041016951, 43.527521389), (-33.999681989, 43.637791263), (-33.979012787, 43.692930789)],
                knots=[0, 0, 0, 0, 1.253673617, 2.623841347, 4.114270668, 5.751233548, 6.594491912, 7.409089316, 8.202422231, 8.983165545, 9.746111525, 10.498431446, 11.249153235, 12, 12, 12, 12], degree=3))
            Line((-33.979012787, 43.692930789), (-32.869778996, 43.692930789))
            Line((-32.869778996, 43.692930789), (-32.869778996, 36.501638471))
        make_face(mode=Mode.SUBTRACT)
        Polygon((-40.720849335, 36.501638471), (-43.380129307, 43.692930789), (-41.919398055, 43.692930789), (-40.014973286, 38.345559578), (-38.117751335, 43.692930789), (-36.649817266, 43.692930789), (-39.299013294, 36.501638471), align=None, mode=Mode.SUBTRACT)
    extrude(amount=BOSS_EXTRUDE1_DEPTH)


solid = part.part
